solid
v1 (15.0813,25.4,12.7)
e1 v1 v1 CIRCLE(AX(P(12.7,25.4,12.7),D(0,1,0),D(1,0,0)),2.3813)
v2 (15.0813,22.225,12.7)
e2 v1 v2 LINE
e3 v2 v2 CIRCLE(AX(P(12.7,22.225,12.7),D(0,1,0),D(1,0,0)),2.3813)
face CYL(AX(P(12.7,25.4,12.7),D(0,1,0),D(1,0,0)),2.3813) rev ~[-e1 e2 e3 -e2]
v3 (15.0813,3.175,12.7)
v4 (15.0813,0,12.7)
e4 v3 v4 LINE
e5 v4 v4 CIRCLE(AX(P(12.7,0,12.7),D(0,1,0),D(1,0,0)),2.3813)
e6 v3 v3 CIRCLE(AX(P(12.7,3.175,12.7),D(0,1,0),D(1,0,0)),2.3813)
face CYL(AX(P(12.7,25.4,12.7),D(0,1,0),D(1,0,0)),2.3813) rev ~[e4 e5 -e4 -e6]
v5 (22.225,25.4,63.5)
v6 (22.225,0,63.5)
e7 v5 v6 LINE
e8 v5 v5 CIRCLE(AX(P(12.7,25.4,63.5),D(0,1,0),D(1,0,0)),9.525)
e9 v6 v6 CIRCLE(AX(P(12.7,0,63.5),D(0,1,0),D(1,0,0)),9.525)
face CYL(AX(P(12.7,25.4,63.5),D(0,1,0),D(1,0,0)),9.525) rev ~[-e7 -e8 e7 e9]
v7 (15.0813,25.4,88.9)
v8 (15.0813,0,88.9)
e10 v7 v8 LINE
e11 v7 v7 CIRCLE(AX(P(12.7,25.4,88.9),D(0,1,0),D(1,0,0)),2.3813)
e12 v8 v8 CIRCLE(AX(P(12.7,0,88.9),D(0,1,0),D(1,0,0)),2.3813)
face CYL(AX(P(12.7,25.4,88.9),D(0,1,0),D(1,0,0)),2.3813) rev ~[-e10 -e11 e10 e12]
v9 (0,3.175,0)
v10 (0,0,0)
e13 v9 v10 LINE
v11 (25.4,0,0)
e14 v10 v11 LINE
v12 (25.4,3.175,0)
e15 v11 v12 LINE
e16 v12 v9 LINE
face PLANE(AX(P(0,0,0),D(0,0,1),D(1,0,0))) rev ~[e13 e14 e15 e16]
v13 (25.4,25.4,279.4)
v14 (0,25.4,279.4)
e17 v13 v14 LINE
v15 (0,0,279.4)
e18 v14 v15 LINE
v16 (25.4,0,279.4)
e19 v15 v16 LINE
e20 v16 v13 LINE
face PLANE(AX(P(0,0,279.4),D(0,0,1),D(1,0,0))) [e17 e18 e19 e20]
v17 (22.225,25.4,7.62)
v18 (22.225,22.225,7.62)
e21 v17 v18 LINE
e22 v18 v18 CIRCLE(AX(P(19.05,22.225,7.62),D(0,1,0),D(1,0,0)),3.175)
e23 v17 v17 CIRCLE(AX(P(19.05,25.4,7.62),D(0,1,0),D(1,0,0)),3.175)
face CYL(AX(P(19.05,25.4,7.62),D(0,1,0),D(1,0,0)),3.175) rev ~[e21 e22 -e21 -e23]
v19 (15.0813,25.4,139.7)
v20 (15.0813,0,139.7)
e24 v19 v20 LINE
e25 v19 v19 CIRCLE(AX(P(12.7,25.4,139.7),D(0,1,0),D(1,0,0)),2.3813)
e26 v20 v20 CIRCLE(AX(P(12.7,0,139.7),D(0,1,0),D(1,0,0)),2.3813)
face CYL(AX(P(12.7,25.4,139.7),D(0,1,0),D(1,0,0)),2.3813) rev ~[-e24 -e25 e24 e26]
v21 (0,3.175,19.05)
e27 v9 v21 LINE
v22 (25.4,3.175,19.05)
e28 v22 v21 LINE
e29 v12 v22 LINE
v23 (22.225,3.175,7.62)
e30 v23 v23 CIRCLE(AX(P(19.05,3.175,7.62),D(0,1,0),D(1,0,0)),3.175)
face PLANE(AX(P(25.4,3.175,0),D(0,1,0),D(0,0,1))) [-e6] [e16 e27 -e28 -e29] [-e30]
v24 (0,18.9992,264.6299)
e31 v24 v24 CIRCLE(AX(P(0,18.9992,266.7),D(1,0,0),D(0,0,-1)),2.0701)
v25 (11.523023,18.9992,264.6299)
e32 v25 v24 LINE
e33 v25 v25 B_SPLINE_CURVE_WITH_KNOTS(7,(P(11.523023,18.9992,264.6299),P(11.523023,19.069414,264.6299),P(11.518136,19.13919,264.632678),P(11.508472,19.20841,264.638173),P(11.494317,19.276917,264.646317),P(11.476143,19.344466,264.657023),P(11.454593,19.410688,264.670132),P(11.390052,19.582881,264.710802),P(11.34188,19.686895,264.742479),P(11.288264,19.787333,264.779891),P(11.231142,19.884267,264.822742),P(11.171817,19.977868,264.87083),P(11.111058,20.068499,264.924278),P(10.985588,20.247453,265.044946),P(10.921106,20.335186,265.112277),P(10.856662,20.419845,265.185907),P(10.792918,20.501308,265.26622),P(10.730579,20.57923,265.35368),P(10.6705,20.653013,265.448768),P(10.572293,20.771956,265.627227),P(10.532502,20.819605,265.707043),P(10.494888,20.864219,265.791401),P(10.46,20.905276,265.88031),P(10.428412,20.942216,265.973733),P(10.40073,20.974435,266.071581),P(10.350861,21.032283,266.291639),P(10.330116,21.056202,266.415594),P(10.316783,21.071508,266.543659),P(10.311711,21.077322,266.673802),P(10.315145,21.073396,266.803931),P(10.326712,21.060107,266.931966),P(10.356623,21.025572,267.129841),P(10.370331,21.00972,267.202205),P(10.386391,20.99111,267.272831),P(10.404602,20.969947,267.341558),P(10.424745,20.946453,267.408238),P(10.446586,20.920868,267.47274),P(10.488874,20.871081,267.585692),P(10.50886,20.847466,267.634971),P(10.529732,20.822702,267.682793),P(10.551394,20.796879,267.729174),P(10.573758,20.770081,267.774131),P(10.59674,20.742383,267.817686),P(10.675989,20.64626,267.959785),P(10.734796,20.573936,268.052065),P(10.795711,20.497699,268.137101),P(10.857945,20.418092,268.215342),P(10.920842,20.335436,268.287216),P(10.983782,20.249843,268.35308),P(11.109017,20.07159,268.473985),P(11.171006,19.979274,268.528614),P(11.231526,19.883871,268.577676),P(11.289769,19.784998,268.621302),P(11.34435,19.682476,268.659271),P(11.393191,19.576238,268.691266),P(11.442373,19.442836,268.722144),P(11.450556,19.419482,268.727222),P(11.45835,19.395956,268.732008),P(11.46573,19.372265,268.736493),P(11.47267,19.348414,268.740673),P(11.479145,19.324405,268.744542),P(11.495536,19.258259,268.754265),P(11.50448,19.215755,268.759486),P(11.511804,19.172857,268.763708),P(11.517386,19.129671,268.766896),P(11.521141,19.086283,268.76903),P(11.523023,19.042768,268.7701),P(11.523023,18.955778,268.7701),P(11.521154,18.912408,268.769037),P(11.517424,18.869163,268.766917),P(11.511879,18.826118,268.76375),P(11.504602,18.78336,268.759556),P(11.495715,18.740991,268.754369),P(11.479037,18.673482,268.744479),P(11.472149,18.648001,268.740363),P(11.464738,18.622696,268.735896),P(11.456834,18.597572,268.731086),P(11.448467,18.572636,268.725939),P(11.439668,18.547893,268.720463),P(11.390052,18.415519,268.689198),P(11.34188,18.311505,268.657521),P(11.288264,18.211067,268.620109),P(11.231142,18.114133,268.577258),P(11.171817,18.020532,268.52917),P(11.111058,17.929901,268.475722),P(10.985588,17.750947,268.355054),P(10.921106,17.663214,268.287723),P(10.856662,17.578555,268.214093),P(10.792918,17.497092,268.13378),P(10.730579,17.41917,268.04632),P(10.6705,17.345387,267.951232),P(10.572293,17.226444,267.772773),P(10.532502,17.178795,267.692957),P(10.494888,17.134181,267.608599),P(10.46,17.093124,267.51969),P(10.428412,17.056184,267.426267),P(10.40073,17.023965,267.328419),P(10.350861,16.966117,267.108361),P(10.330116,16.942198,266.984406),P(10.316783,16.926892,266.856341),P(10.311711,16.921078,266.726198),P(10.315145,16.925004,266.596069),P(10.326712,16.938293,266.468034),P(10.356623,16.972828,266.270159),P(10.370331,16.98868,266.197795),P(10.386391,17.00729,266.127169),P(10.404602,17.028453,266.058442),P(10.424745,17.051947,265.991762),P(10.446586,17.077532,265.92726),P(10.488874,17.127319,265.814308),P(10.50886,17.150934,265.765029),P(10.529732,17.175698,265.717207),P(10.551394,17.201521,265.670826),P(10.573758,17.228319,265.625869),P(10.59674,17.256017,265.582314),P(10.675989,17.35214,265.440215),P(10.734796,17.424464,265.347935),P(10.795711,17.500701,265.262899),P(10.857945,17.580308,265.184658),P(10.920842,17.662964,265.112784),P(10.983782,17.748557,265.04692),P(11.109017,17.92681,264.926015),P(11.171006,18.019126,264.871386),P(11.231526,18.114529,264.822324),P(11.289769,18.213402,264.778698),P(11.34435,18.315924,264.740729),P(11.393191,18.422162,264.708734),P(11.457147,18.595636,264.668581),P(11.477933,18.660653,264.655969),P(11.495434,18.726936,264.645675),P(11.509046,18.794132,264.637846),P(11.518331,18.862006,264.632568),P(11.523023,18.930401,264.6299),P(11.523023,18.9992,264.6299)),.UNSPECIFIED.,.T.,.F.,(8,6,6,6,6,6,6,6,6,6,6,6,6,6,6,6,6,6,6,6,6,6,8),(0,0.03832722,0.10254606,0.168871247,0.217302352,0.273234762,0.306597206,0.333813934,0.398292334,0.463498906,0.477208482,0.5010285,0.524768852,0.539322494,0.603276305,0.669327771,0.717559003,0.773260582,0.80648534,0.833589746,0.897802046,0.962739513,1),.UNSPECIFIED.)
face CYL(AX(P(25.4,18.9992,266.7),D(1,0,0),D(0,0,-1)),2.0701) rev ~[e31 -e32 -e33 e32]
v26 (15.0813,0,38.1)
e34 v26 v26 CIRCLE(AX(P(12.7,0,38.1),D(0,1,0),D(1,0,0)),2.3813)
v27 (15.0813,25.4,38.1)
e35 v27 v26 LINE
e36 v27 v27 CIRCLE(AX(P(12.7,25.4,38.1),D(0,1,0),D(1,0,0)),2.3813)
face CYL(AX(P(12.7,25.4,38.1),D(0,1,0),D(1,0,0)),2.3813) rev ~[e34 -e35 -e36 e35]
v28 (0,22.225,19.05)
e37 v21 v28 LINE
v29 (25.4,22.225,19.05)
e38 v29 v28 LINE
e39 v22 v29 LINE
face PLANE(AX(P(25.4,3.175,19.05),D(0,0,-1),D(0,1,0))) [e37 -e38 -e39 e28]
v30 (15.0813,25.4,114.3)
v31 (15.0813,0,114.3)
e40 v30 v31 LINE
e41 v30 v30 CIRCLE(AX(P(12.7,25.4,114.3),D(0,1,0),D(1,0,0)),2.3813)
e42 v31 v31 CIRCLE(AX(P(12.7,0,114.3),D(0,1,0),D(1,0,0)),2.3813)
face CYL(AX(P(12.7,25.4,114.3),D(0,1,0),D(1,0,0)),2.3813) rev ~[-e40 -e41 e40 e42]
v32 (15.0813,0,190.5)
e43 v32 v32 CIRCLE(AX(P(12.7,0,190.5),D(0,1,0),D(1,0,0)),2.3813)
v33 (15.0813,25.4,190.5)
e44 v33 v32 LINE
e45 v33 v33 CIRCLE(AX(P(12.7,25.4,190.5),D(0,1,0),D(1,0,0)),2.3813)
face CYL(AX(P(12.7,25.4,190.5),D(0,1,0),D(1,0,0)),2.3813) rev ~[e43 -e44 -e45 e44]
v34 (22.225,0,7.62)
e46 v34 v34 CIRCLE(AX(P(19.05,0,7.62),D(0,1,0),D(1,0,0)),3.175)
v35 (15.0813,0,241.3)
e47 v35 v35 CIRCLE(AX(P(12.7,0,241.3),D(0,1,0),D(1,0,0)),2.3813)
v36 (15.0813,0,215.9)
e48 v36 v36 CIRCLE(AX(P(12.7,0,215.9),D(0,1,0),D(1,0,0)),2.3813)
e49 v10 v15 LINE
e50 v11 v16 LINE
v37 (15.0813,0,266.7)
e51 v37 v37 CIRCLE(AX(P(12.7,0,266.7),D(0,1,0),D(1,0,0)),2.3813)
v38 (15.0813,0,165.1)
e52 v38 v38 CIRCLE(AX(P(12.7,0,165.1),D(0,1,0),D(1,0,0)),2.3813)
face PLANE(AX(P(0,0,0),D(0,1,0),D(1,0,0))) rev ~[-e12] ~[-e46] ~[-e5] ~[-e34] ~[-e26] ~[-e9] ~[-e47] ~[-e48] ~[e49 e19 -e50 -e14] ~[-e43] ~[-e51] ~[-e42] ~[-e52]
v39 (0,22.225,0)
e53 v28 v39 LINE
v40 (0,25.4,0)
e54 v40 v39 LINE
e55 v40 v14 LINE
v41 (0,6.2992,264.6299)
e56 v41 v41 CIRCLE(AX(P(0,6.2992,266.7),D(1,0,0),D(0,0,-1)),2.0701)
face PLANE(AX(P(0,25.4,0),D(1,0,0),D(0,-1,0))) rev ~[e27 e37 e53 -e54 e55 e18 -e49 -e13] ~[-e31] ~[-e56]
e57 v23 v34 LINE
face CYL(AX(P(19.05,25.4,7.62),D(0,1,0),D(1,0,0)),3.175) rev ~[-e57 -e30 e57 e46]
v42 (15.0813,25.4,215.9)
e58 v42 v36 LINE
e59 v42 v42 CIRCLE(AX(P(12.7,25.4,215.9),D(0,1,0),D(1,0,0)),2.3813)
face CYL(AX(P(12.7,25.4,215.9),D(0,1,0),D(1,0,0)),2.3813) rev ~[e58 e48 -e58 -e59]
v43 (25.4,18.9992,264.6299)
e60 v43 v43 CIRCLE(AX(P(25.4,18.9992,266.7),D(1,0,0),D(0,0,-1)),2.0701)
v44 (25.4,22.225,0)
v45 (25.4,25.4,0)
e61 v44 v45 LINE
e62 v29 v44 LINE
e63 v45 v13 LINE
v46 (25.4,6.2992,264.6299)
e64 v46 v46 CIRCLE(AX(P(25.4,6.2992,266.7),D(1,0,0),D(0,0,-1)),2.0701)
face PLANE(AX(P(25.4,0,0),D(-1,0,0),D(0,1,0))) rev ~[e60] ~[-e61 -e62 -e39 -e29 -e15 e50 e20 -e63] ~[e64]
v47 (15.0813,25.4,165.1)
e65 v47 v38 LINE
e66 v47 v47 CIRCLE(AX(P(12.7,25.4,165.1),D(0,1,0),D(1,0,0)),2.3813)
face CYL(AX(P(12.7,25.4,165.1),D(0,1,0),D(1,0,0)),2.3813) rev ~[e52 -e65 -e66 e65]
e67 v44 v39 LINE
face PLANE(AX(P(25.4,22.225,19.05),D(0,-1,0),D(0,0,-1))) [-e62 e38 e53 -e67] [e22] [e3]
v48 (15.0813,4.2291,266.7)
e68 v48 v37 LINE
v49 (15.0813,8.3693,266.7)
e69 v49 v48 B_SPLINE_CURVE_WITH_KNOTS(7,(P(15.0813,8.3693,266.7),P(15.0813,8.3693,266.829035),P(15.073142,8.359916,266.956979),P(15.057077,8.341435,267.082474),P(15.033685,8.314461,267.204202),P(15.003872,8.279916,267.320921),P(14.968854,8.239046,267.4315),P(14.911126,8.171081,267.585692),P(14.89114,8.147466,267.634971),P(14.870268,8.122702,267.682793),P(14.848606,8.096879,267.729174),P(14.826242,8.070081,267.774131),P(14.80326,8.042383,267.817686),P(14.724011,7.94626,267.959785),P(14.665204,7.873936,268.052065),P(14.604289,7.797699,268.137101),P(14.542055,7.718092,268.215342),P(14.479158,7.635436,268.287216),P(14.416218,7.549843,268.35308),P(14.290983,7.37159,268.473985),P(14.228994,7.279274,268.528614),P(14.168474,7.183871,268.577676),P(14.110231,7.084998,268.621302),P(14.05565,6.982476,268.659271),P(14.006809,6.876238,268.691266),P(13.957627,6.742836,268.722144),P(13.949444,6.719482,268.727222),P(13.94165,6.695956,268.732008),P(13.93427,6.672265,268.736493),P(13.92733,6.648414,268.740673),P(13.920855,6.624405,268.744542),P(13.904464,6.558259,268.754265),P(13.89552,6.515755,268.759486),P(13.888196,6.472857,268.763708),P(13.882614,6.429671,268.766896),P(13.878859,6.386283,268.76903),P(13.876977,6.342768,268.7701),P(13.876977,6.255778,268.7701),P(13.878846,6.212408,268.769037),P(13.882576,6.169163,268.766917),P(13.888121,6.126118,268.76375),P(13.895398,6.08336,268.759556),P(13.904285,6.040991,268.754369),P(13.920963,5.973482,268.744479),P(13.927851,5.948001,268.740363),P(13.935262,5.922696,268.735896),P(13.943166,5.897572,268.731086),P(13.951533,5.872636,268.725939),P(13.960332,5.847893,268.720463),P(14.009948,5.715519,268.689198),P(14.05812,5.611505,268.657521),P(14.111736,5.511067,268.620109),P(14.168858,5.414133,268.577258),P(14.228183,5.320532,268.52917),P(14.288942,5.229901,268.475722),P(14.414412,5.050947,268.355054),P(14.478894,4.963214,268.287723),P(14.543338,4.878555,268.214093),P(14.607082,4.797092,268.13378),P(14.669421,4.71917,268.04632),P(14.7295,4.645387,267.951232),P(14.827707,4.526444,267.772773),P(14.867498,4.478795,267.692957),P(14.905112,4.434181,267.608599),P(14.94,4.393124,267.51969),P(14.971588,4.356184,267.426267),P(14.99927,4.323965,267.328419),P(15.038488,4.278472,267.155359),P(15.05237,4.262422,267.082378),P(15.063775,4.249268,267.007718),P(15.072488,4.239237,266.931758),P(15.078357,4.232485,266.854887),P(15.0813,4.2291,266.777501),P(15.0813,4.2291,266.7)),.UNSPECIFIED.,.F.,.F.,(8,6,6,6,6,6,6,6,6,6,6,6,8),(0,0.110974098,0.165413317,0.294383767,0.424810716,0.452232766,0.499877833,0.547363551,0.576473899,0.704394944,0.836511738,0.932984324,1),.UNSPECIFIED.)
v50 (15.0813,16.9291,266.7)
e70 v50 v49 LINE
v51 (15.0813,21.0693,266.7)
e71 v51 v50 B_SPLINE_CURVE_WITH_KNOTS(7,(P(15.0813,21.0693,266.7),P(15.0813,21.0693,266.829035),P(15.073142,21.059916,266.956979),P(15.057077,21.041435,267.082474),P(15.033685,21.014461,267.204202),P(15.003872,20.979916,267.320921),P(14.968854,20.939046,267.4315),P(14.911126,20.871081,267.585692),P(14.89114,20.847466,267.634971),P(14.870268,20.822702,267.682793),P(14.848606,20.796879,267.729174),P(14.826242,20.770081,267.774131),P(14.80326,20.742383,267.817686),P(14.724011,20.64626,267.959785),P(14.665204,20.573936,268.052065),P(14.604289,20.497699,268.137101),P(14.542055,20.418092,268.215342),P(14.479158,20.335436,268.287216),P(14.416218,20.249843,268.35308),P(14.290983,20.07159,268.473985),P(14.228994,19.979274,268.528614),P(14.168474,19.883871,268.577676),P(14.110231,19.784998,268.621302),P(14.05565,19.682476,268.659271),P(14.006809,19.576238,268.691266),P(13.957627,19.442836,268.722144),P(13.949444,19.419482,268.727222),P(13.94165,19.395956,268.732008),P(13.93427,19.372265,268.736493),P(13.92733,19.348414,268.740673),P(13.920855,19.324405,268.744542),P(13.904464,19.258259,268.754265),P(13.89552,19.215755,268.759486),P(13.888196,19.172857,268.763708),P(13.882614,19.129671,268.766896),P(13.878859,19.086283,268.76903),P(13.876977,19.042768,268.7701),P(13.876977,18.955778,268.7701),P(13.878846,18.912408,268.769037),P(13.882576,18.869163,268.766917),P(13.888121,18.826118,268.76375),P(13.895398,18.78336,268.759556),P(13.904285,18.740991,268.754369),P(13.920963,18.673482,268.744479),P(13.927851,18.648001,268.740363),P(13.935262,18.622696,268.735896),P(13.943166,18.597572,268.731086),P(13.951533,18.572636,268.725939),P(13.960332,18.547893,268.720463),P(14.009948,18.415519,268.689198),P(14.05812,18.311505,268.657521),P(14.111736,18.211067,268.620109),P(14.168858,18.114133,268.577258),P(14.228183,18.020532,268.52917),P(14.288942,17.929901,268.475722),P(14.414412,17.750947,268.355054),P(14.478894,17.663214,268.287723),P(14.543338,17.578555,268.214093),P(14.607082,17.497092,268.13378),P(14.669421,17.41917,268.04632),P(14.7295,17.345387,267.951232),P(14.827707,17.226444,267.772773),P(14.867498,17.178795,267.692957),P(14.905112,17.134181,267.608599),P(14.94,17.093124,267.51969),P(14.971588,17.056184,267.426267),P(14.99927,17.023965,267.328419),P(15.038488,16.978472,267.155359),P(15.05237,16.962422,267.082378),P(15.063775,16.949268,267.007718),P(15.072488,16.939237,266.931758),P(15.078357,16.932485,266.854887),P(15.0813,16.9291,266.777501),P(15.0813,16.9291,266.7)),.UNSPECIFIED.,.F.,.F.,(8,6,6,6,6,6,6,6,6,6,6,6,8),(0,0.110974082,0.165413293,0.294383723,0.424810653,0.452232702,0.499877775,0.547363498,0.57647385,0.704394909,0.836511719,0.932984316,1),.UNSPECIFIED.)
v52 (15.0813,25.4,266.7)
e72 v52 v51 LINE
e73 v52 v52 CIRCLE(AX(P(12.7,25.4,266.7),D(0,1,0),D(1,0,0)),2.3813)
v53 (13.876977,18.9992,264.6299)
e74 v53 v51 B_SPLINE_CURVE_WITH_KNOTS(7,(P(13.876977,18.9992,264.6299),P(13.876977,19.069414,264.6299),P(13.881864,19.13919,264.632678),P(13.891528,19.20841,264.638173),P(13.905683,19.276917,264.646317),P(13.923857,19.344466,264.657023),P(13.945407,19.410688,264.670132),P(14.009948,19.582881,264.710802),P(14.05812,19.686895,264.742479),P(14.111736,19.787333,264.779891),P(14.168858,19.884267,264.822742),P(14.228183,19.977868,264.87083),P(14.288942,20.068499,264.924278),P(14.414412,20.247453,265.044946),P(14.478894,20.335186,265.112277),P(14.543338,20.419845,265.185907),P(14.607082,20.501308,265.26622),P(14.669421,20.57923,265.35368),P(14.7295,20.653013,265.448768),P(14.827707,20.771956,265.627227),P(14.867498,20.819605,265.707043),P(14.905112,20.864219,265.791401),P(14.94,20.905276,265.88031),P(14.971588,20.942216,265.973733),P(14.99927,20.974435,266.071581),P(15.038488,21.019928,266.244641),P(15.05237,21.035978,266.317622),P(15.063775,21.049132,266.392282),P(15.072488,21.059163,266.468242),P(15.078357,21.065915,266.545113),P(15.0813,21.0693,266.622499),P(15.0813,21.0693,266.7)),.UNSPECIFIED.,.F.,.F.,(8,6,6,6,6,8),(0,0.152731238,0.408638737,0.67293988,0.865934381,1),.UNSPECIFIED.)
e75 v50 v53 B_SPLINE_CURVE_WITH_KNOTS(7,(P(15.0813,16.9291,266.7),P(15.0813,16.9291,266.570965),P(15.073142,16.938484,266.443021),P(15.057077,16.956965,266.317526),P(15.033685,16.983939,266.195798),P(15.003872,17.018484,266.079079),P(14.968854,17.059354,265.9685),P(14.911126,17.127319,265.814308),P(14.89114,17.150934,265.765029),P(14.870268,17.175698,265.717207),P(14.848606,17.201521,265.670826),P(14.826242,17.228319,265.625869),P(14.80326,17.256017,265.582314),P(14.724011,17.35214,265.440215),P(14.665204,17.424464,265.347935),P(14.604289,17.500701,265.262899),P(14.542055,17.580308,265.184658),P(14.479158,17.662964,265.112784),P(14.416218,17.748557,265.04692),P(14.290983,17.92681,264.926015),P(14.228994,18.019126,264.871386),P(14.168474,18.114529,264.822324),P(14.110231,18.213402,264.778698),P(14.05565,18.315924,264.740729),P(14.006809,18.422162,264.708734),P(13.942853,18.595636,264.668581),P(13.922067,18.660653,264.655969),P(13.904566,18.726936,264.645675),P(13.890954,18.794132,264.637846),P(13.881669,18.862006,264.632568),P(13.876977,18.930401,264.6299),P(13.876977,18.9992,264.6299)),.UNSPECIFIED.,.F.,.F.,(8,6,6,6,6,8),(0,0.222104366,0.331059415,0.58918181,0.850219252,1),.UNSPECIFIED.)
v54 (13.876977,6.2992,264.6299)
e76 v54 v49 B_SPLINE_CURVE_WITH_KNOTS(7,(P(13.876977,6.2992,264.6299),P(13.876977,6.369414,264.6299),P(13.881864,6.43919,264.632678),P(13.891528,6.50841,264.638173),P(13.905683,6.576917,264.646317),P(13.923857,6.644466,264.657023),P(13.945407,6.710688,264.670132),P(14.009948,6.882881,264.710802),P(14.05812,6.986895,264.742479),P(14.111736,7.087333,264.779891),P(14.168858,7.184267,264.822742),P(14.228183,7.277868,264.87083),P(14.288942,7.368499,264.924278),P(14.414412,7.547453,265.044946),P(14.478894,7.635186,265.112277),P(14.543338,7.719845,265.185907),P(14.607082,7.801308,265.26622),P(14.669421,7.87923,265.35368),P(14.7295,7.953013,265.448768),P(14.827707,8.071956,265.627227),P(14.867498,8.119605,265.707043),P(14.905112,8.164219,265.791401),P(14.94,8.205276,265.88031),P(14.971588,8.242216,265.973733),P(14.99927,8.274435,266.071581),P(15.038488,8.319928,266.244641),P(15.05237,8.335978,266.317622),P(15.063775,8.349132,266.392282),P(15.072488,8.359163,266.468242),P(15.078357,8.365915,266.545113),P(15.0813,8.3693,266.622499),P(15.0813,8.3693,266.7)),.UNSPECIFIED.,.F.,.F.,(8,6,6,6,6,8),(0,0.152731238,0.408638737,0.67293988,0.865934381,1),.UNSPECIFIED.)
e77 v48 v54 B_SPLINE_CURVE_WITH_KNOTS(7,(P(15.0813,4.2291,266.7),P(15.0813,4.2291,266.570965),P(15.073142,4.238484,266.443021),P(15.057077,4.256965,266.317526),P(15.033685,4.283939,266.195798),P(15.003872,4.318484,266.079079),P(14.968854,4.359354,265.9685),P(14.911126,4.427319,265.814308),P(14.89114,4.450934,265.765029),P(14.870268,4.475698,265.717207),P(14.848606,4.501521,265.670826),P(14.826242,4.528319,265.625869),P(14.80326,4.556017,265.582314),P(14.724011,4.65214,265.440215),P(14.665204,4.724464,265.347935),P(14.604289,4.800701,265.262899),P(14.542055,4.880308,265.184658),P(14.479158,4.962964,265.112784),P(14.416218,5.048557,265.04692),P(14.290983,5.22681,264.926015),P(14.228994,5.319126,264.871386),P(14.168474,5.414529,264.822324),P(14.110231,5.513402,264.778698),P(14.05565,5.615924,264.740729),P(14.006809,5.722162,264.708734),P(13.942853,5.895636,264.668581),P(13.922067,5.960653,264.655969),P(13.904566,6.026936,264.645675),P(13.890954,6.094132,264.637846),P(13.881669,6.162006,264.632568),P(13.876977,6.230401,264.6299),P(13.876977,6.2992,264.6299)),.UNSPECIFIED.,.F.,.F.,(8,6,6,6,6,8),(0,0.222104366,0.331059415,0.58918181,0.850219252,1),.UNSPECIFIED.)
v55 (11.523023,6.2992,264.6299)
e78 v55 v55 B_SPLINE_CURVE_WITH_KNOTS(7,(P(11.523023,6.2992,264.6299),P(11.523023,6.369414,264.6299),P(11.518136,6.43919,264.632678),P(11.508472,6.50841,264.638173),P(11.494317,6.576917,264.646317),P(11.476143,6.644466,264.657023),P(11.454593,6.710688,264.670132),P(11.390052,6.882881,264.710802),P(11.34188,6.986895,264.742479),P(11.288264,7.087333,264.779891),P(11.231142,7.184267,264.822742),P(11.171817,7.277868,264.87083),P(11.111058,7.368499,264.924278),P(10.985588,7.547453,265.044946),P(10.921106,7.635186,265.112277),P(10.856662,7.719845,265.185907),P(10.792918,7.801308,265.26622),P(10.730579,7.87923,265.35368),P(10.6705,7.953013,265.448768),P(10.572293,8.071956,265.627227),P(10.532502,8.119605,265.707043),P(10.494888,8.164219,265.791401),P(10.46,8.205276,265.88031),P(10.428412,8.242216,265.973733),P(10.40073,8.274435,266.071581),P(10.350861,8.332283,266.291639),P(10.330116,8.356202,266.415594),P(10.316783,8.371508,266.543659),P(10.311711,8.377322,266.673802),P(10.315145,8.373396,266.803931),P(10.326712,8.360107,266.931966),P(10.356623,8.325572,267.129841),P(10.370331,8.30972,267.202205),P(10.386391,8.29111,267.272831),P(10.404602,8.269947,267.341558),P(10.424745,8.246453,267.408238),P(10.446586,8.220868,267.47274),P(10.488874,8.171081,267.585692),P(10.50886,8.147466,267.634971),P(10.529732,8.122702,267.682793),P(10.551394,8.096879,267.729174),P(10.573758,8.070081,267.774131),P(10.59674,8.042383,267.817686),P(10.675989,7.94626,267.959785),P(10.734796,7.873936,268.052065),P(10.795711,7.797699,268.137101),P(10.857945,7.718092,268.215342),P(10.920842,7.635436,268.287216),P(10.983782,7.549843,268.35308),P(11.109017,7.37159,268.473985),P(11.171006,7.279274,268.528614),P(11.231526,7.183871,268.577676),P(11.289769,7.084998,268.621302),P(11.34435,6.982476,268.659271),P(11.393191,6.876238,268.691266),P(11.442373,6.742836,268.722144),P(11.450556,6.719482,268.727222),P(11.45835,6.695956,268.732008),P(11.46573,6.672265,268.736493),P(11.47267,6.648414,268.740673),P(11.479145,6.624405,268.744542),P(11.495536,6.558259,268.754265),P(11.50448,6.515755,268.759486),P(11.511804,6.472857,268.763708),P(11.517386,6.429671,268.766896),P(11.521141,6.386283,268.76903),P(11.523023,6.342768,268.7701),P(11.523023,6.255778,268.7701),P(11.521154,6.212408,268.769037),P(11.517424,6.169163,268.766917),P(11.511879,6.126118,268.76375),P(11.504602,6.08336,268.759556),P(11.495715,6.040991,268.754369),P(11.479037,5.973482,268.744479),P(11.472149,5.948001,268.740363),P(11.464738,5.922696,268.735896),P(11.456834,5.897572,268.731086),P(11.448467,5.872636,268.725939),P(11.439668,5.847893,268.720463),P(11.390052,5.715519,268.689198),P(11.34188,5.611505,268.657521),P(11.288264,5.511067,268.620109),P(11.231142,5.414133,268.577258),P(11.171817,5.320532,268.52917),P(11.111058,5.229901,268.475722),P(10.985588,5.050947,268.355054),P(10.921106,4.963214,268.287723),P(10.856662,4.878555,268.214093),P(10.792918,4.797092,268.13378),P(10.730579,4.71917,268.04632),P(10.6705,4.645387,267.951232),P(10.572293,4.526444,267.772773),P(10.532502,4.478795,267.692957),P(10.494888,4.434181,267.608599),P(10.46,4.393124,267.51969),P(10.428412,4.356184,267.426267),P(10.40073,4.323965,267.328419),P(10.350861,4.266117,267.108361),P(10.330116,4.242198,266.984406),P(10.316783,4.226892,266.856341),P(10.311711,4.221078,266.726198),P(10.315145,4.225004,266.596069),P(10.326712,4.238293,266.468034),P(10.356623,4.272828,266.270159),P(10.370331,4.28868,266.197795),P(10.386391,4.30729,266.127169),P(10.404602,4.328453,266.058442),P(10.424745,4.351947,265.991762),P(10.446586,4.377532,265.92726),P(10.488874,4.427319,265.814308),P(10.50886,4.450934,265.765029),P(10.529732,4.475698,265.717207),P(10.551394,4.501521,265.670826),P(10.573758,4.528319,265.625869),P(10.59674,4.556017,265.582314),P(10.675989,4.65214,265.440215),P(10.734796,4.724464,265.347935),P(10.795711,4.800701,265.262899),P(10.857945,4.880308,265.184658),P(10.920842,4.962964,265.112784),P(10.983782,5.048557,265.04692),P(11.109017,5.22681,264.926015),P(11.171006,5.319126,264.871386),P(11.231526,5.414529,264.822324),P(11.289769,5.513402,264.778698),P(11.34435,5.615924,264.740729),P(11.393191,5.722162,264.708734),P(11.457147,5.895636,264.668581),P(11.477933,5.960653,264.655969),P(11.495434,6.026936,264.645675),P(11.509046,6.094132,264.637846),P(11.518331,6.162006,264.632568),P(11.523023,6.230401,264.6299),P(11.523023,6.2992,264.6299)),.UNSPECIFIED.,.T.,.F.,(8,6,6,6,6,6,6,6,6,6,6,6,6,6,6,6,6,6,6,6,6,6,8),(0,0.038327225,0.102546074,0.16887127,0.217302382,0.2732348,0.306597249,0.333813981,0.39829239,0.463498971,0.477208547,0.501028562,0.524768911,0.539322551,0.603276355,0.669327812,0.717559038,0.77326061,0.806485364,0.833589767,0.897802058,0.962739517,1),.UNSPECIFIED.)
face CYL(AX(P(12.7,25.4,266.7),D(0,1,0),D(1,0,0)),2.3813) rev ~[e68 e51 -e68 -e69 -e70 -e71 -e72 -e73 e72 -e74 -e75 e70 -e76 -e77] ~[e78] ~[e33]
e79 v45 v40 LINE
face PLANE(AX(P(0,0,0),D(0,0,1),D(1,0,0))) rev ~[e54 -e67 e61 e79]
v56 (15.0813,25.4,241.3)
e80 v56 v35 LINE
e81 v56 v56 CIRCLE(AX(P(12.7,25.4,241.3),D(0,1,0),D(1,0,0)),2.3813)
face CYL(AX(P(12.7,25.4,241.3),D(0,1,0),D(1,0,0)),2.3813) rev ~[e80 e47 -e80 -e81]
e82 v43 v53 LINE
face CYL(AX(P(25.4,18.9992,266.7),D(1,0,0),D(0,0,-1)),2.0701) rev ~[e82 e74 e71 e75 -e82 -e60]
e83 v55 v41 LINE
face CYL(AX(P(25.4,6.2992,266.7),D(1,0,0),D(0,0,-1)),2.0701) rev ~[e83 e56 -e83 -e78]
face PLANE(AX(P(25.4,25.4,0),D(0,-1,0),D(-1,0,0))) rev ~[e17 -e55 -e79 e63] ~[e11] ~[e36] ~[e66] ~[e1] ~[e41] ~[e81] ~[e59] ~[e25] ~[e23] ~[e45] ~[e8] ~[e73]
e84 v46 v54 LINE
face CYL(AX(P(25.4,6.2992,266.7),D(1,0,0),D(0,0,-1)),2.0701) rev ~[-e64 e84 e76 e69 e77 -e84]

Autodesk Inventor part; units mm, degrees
ref_plane "YZ Plane" through (0, 0, 0) normal (1, 0, 0) x (0, 1, 0)
ref_plane "XZ Plane" through (0, 0, 0) normal (0, 1, 0) x (-1, 0, 0)
ref_plane "XY Plane" through (0, 0, 0) normal (0, 0, 1) x (1, 0, 0)
sketch "Sketch1" plane through (0, 0, 0) normal (0, 0, 1) x (1, 0, 0)
  line L0 (0, 0) -> (25.4, 0)
  line L1 (25.4, 0) -> (25.4, 25.4)
  line L2 (25.4, 25.4) -> (0, 25.4)
  line L3 (0, 25.4) -> (0, 0)
  dimension "d0" = 25.4
  dimension "d1" = 25.4
extrude "Extrusion1" add sketch "Sketch1" along normal blind 279.4
sketch "Sketch2" plane through (0, 25.4, 0) normal (0, 1, 0) x (1, 0, 0)
  circle A0 centre (12.7, -12.7) radius 2.3813
  line L0 (25.4, 0) -> (0, 0) projected
  line L1 (0, 0) -> (0, -279.4) projected
  circle A1 centre (12.7, -38.1) radius 2.3813
  circle A2 centre (12.7, -63.5) radius 2.3813
  circle A3 centre (12.7, -88.9) radius 2.3813
  circle A4 centre (12.7, -114.3) radius 2.3813
  circle A5 centre (12.7, -139.7) radius 2.3813
  circle A6 centre (12.7, -165.1) radius 2.3813
  circle A7 centre (12.7, -190.5) radius 2.3813
  circle A8 centre (12.7, -215.9) radius 2.3813
  circle A9 centre (12.7, -241.3) radius 2.3813
  circle A10 centre (12.7, -266.7) radius 2.3813
  circle A11 centre (12.7, -63.5) radius 9.525
  circle A12 centre (19.05, -7.62) radius 3.175
  line L2 (25.4, 0) -> (25.4, -279.4) projected
  dimension "d4" = 4.7625
  dimension "d5" = 12.7
  dimension "d6" = 12.7
  dimension "d9" = 25.4
  dimension "d14" = 19.05
  dimension "d25" = 6.35
  dimension "d27" = 6.35
  dimension "d28" = 55.88
extrude "Extrusion2" cut sketch "Sketch2" against normal blind 279.4 contours A0 | A1 | A2 | A3 | A4 | A5 | A6 | A7 | A8 | A9 | A10 | A11 | A12
sketch "Sketch3" plane through (25.4, 0, 0) normal (1, 0, 0) x (0, 0, -1)
  line L0 (-19.05, 22.225) -> (0, 22.225)
  line L1 (0, 22.225) -> (0, 3.175)
  line L2 (0, 3.175) -> (-19.05, 3.175)
  line L3 (-19.05, 3.175) -> (-19.05, 22.225)
  line L4 (0, 0) -> (0, 25.4) projected
  line L5 (0, 0) -> (-279.4, 0) projected
  line L6 (0, 25.4) -> (-279.4, 25.4) projected
  dimension "d17" = 0
  dimension "d18" = 19.05
  dimension "d19" = 3.175
  dimension "d20" = 3.175
extrude "Extrusion3" cut sketch "Sketch3" against normal blind 279.4
sketch "Sketch4" plane through (25.4, 0, 279.4) normal (1, 0, 0) x (0, 0, -1)
  circle A0 centre (12.7, 6.2992) radius 2.0701
  line L0 (0, 0) -> (0, 25.4) projected
  circle A1 centre (12.7, 18.9992) radius 2.0701
  line L1 (279.4, 0) -> (0, 0) projected
  line L2 (279.4, 25.4) -> (0, 25.4) projected
  dimension "d29" = 4.1402
  dimension "d30" = 12.7
  dimension "d31" = 4.1402
  dimension "d32" = 12.7
  dimension "d34" = 12.7
  dimension "d37" = 6.4008
extrude "Extrusion4" cut sketch "Sketch4" against normal blind 25.4
equation "\"d20\" = d19"
equation "\"d31\" = d29"
equation "\"d32\" = d30"
properties part number "RobotArm Arm2"
